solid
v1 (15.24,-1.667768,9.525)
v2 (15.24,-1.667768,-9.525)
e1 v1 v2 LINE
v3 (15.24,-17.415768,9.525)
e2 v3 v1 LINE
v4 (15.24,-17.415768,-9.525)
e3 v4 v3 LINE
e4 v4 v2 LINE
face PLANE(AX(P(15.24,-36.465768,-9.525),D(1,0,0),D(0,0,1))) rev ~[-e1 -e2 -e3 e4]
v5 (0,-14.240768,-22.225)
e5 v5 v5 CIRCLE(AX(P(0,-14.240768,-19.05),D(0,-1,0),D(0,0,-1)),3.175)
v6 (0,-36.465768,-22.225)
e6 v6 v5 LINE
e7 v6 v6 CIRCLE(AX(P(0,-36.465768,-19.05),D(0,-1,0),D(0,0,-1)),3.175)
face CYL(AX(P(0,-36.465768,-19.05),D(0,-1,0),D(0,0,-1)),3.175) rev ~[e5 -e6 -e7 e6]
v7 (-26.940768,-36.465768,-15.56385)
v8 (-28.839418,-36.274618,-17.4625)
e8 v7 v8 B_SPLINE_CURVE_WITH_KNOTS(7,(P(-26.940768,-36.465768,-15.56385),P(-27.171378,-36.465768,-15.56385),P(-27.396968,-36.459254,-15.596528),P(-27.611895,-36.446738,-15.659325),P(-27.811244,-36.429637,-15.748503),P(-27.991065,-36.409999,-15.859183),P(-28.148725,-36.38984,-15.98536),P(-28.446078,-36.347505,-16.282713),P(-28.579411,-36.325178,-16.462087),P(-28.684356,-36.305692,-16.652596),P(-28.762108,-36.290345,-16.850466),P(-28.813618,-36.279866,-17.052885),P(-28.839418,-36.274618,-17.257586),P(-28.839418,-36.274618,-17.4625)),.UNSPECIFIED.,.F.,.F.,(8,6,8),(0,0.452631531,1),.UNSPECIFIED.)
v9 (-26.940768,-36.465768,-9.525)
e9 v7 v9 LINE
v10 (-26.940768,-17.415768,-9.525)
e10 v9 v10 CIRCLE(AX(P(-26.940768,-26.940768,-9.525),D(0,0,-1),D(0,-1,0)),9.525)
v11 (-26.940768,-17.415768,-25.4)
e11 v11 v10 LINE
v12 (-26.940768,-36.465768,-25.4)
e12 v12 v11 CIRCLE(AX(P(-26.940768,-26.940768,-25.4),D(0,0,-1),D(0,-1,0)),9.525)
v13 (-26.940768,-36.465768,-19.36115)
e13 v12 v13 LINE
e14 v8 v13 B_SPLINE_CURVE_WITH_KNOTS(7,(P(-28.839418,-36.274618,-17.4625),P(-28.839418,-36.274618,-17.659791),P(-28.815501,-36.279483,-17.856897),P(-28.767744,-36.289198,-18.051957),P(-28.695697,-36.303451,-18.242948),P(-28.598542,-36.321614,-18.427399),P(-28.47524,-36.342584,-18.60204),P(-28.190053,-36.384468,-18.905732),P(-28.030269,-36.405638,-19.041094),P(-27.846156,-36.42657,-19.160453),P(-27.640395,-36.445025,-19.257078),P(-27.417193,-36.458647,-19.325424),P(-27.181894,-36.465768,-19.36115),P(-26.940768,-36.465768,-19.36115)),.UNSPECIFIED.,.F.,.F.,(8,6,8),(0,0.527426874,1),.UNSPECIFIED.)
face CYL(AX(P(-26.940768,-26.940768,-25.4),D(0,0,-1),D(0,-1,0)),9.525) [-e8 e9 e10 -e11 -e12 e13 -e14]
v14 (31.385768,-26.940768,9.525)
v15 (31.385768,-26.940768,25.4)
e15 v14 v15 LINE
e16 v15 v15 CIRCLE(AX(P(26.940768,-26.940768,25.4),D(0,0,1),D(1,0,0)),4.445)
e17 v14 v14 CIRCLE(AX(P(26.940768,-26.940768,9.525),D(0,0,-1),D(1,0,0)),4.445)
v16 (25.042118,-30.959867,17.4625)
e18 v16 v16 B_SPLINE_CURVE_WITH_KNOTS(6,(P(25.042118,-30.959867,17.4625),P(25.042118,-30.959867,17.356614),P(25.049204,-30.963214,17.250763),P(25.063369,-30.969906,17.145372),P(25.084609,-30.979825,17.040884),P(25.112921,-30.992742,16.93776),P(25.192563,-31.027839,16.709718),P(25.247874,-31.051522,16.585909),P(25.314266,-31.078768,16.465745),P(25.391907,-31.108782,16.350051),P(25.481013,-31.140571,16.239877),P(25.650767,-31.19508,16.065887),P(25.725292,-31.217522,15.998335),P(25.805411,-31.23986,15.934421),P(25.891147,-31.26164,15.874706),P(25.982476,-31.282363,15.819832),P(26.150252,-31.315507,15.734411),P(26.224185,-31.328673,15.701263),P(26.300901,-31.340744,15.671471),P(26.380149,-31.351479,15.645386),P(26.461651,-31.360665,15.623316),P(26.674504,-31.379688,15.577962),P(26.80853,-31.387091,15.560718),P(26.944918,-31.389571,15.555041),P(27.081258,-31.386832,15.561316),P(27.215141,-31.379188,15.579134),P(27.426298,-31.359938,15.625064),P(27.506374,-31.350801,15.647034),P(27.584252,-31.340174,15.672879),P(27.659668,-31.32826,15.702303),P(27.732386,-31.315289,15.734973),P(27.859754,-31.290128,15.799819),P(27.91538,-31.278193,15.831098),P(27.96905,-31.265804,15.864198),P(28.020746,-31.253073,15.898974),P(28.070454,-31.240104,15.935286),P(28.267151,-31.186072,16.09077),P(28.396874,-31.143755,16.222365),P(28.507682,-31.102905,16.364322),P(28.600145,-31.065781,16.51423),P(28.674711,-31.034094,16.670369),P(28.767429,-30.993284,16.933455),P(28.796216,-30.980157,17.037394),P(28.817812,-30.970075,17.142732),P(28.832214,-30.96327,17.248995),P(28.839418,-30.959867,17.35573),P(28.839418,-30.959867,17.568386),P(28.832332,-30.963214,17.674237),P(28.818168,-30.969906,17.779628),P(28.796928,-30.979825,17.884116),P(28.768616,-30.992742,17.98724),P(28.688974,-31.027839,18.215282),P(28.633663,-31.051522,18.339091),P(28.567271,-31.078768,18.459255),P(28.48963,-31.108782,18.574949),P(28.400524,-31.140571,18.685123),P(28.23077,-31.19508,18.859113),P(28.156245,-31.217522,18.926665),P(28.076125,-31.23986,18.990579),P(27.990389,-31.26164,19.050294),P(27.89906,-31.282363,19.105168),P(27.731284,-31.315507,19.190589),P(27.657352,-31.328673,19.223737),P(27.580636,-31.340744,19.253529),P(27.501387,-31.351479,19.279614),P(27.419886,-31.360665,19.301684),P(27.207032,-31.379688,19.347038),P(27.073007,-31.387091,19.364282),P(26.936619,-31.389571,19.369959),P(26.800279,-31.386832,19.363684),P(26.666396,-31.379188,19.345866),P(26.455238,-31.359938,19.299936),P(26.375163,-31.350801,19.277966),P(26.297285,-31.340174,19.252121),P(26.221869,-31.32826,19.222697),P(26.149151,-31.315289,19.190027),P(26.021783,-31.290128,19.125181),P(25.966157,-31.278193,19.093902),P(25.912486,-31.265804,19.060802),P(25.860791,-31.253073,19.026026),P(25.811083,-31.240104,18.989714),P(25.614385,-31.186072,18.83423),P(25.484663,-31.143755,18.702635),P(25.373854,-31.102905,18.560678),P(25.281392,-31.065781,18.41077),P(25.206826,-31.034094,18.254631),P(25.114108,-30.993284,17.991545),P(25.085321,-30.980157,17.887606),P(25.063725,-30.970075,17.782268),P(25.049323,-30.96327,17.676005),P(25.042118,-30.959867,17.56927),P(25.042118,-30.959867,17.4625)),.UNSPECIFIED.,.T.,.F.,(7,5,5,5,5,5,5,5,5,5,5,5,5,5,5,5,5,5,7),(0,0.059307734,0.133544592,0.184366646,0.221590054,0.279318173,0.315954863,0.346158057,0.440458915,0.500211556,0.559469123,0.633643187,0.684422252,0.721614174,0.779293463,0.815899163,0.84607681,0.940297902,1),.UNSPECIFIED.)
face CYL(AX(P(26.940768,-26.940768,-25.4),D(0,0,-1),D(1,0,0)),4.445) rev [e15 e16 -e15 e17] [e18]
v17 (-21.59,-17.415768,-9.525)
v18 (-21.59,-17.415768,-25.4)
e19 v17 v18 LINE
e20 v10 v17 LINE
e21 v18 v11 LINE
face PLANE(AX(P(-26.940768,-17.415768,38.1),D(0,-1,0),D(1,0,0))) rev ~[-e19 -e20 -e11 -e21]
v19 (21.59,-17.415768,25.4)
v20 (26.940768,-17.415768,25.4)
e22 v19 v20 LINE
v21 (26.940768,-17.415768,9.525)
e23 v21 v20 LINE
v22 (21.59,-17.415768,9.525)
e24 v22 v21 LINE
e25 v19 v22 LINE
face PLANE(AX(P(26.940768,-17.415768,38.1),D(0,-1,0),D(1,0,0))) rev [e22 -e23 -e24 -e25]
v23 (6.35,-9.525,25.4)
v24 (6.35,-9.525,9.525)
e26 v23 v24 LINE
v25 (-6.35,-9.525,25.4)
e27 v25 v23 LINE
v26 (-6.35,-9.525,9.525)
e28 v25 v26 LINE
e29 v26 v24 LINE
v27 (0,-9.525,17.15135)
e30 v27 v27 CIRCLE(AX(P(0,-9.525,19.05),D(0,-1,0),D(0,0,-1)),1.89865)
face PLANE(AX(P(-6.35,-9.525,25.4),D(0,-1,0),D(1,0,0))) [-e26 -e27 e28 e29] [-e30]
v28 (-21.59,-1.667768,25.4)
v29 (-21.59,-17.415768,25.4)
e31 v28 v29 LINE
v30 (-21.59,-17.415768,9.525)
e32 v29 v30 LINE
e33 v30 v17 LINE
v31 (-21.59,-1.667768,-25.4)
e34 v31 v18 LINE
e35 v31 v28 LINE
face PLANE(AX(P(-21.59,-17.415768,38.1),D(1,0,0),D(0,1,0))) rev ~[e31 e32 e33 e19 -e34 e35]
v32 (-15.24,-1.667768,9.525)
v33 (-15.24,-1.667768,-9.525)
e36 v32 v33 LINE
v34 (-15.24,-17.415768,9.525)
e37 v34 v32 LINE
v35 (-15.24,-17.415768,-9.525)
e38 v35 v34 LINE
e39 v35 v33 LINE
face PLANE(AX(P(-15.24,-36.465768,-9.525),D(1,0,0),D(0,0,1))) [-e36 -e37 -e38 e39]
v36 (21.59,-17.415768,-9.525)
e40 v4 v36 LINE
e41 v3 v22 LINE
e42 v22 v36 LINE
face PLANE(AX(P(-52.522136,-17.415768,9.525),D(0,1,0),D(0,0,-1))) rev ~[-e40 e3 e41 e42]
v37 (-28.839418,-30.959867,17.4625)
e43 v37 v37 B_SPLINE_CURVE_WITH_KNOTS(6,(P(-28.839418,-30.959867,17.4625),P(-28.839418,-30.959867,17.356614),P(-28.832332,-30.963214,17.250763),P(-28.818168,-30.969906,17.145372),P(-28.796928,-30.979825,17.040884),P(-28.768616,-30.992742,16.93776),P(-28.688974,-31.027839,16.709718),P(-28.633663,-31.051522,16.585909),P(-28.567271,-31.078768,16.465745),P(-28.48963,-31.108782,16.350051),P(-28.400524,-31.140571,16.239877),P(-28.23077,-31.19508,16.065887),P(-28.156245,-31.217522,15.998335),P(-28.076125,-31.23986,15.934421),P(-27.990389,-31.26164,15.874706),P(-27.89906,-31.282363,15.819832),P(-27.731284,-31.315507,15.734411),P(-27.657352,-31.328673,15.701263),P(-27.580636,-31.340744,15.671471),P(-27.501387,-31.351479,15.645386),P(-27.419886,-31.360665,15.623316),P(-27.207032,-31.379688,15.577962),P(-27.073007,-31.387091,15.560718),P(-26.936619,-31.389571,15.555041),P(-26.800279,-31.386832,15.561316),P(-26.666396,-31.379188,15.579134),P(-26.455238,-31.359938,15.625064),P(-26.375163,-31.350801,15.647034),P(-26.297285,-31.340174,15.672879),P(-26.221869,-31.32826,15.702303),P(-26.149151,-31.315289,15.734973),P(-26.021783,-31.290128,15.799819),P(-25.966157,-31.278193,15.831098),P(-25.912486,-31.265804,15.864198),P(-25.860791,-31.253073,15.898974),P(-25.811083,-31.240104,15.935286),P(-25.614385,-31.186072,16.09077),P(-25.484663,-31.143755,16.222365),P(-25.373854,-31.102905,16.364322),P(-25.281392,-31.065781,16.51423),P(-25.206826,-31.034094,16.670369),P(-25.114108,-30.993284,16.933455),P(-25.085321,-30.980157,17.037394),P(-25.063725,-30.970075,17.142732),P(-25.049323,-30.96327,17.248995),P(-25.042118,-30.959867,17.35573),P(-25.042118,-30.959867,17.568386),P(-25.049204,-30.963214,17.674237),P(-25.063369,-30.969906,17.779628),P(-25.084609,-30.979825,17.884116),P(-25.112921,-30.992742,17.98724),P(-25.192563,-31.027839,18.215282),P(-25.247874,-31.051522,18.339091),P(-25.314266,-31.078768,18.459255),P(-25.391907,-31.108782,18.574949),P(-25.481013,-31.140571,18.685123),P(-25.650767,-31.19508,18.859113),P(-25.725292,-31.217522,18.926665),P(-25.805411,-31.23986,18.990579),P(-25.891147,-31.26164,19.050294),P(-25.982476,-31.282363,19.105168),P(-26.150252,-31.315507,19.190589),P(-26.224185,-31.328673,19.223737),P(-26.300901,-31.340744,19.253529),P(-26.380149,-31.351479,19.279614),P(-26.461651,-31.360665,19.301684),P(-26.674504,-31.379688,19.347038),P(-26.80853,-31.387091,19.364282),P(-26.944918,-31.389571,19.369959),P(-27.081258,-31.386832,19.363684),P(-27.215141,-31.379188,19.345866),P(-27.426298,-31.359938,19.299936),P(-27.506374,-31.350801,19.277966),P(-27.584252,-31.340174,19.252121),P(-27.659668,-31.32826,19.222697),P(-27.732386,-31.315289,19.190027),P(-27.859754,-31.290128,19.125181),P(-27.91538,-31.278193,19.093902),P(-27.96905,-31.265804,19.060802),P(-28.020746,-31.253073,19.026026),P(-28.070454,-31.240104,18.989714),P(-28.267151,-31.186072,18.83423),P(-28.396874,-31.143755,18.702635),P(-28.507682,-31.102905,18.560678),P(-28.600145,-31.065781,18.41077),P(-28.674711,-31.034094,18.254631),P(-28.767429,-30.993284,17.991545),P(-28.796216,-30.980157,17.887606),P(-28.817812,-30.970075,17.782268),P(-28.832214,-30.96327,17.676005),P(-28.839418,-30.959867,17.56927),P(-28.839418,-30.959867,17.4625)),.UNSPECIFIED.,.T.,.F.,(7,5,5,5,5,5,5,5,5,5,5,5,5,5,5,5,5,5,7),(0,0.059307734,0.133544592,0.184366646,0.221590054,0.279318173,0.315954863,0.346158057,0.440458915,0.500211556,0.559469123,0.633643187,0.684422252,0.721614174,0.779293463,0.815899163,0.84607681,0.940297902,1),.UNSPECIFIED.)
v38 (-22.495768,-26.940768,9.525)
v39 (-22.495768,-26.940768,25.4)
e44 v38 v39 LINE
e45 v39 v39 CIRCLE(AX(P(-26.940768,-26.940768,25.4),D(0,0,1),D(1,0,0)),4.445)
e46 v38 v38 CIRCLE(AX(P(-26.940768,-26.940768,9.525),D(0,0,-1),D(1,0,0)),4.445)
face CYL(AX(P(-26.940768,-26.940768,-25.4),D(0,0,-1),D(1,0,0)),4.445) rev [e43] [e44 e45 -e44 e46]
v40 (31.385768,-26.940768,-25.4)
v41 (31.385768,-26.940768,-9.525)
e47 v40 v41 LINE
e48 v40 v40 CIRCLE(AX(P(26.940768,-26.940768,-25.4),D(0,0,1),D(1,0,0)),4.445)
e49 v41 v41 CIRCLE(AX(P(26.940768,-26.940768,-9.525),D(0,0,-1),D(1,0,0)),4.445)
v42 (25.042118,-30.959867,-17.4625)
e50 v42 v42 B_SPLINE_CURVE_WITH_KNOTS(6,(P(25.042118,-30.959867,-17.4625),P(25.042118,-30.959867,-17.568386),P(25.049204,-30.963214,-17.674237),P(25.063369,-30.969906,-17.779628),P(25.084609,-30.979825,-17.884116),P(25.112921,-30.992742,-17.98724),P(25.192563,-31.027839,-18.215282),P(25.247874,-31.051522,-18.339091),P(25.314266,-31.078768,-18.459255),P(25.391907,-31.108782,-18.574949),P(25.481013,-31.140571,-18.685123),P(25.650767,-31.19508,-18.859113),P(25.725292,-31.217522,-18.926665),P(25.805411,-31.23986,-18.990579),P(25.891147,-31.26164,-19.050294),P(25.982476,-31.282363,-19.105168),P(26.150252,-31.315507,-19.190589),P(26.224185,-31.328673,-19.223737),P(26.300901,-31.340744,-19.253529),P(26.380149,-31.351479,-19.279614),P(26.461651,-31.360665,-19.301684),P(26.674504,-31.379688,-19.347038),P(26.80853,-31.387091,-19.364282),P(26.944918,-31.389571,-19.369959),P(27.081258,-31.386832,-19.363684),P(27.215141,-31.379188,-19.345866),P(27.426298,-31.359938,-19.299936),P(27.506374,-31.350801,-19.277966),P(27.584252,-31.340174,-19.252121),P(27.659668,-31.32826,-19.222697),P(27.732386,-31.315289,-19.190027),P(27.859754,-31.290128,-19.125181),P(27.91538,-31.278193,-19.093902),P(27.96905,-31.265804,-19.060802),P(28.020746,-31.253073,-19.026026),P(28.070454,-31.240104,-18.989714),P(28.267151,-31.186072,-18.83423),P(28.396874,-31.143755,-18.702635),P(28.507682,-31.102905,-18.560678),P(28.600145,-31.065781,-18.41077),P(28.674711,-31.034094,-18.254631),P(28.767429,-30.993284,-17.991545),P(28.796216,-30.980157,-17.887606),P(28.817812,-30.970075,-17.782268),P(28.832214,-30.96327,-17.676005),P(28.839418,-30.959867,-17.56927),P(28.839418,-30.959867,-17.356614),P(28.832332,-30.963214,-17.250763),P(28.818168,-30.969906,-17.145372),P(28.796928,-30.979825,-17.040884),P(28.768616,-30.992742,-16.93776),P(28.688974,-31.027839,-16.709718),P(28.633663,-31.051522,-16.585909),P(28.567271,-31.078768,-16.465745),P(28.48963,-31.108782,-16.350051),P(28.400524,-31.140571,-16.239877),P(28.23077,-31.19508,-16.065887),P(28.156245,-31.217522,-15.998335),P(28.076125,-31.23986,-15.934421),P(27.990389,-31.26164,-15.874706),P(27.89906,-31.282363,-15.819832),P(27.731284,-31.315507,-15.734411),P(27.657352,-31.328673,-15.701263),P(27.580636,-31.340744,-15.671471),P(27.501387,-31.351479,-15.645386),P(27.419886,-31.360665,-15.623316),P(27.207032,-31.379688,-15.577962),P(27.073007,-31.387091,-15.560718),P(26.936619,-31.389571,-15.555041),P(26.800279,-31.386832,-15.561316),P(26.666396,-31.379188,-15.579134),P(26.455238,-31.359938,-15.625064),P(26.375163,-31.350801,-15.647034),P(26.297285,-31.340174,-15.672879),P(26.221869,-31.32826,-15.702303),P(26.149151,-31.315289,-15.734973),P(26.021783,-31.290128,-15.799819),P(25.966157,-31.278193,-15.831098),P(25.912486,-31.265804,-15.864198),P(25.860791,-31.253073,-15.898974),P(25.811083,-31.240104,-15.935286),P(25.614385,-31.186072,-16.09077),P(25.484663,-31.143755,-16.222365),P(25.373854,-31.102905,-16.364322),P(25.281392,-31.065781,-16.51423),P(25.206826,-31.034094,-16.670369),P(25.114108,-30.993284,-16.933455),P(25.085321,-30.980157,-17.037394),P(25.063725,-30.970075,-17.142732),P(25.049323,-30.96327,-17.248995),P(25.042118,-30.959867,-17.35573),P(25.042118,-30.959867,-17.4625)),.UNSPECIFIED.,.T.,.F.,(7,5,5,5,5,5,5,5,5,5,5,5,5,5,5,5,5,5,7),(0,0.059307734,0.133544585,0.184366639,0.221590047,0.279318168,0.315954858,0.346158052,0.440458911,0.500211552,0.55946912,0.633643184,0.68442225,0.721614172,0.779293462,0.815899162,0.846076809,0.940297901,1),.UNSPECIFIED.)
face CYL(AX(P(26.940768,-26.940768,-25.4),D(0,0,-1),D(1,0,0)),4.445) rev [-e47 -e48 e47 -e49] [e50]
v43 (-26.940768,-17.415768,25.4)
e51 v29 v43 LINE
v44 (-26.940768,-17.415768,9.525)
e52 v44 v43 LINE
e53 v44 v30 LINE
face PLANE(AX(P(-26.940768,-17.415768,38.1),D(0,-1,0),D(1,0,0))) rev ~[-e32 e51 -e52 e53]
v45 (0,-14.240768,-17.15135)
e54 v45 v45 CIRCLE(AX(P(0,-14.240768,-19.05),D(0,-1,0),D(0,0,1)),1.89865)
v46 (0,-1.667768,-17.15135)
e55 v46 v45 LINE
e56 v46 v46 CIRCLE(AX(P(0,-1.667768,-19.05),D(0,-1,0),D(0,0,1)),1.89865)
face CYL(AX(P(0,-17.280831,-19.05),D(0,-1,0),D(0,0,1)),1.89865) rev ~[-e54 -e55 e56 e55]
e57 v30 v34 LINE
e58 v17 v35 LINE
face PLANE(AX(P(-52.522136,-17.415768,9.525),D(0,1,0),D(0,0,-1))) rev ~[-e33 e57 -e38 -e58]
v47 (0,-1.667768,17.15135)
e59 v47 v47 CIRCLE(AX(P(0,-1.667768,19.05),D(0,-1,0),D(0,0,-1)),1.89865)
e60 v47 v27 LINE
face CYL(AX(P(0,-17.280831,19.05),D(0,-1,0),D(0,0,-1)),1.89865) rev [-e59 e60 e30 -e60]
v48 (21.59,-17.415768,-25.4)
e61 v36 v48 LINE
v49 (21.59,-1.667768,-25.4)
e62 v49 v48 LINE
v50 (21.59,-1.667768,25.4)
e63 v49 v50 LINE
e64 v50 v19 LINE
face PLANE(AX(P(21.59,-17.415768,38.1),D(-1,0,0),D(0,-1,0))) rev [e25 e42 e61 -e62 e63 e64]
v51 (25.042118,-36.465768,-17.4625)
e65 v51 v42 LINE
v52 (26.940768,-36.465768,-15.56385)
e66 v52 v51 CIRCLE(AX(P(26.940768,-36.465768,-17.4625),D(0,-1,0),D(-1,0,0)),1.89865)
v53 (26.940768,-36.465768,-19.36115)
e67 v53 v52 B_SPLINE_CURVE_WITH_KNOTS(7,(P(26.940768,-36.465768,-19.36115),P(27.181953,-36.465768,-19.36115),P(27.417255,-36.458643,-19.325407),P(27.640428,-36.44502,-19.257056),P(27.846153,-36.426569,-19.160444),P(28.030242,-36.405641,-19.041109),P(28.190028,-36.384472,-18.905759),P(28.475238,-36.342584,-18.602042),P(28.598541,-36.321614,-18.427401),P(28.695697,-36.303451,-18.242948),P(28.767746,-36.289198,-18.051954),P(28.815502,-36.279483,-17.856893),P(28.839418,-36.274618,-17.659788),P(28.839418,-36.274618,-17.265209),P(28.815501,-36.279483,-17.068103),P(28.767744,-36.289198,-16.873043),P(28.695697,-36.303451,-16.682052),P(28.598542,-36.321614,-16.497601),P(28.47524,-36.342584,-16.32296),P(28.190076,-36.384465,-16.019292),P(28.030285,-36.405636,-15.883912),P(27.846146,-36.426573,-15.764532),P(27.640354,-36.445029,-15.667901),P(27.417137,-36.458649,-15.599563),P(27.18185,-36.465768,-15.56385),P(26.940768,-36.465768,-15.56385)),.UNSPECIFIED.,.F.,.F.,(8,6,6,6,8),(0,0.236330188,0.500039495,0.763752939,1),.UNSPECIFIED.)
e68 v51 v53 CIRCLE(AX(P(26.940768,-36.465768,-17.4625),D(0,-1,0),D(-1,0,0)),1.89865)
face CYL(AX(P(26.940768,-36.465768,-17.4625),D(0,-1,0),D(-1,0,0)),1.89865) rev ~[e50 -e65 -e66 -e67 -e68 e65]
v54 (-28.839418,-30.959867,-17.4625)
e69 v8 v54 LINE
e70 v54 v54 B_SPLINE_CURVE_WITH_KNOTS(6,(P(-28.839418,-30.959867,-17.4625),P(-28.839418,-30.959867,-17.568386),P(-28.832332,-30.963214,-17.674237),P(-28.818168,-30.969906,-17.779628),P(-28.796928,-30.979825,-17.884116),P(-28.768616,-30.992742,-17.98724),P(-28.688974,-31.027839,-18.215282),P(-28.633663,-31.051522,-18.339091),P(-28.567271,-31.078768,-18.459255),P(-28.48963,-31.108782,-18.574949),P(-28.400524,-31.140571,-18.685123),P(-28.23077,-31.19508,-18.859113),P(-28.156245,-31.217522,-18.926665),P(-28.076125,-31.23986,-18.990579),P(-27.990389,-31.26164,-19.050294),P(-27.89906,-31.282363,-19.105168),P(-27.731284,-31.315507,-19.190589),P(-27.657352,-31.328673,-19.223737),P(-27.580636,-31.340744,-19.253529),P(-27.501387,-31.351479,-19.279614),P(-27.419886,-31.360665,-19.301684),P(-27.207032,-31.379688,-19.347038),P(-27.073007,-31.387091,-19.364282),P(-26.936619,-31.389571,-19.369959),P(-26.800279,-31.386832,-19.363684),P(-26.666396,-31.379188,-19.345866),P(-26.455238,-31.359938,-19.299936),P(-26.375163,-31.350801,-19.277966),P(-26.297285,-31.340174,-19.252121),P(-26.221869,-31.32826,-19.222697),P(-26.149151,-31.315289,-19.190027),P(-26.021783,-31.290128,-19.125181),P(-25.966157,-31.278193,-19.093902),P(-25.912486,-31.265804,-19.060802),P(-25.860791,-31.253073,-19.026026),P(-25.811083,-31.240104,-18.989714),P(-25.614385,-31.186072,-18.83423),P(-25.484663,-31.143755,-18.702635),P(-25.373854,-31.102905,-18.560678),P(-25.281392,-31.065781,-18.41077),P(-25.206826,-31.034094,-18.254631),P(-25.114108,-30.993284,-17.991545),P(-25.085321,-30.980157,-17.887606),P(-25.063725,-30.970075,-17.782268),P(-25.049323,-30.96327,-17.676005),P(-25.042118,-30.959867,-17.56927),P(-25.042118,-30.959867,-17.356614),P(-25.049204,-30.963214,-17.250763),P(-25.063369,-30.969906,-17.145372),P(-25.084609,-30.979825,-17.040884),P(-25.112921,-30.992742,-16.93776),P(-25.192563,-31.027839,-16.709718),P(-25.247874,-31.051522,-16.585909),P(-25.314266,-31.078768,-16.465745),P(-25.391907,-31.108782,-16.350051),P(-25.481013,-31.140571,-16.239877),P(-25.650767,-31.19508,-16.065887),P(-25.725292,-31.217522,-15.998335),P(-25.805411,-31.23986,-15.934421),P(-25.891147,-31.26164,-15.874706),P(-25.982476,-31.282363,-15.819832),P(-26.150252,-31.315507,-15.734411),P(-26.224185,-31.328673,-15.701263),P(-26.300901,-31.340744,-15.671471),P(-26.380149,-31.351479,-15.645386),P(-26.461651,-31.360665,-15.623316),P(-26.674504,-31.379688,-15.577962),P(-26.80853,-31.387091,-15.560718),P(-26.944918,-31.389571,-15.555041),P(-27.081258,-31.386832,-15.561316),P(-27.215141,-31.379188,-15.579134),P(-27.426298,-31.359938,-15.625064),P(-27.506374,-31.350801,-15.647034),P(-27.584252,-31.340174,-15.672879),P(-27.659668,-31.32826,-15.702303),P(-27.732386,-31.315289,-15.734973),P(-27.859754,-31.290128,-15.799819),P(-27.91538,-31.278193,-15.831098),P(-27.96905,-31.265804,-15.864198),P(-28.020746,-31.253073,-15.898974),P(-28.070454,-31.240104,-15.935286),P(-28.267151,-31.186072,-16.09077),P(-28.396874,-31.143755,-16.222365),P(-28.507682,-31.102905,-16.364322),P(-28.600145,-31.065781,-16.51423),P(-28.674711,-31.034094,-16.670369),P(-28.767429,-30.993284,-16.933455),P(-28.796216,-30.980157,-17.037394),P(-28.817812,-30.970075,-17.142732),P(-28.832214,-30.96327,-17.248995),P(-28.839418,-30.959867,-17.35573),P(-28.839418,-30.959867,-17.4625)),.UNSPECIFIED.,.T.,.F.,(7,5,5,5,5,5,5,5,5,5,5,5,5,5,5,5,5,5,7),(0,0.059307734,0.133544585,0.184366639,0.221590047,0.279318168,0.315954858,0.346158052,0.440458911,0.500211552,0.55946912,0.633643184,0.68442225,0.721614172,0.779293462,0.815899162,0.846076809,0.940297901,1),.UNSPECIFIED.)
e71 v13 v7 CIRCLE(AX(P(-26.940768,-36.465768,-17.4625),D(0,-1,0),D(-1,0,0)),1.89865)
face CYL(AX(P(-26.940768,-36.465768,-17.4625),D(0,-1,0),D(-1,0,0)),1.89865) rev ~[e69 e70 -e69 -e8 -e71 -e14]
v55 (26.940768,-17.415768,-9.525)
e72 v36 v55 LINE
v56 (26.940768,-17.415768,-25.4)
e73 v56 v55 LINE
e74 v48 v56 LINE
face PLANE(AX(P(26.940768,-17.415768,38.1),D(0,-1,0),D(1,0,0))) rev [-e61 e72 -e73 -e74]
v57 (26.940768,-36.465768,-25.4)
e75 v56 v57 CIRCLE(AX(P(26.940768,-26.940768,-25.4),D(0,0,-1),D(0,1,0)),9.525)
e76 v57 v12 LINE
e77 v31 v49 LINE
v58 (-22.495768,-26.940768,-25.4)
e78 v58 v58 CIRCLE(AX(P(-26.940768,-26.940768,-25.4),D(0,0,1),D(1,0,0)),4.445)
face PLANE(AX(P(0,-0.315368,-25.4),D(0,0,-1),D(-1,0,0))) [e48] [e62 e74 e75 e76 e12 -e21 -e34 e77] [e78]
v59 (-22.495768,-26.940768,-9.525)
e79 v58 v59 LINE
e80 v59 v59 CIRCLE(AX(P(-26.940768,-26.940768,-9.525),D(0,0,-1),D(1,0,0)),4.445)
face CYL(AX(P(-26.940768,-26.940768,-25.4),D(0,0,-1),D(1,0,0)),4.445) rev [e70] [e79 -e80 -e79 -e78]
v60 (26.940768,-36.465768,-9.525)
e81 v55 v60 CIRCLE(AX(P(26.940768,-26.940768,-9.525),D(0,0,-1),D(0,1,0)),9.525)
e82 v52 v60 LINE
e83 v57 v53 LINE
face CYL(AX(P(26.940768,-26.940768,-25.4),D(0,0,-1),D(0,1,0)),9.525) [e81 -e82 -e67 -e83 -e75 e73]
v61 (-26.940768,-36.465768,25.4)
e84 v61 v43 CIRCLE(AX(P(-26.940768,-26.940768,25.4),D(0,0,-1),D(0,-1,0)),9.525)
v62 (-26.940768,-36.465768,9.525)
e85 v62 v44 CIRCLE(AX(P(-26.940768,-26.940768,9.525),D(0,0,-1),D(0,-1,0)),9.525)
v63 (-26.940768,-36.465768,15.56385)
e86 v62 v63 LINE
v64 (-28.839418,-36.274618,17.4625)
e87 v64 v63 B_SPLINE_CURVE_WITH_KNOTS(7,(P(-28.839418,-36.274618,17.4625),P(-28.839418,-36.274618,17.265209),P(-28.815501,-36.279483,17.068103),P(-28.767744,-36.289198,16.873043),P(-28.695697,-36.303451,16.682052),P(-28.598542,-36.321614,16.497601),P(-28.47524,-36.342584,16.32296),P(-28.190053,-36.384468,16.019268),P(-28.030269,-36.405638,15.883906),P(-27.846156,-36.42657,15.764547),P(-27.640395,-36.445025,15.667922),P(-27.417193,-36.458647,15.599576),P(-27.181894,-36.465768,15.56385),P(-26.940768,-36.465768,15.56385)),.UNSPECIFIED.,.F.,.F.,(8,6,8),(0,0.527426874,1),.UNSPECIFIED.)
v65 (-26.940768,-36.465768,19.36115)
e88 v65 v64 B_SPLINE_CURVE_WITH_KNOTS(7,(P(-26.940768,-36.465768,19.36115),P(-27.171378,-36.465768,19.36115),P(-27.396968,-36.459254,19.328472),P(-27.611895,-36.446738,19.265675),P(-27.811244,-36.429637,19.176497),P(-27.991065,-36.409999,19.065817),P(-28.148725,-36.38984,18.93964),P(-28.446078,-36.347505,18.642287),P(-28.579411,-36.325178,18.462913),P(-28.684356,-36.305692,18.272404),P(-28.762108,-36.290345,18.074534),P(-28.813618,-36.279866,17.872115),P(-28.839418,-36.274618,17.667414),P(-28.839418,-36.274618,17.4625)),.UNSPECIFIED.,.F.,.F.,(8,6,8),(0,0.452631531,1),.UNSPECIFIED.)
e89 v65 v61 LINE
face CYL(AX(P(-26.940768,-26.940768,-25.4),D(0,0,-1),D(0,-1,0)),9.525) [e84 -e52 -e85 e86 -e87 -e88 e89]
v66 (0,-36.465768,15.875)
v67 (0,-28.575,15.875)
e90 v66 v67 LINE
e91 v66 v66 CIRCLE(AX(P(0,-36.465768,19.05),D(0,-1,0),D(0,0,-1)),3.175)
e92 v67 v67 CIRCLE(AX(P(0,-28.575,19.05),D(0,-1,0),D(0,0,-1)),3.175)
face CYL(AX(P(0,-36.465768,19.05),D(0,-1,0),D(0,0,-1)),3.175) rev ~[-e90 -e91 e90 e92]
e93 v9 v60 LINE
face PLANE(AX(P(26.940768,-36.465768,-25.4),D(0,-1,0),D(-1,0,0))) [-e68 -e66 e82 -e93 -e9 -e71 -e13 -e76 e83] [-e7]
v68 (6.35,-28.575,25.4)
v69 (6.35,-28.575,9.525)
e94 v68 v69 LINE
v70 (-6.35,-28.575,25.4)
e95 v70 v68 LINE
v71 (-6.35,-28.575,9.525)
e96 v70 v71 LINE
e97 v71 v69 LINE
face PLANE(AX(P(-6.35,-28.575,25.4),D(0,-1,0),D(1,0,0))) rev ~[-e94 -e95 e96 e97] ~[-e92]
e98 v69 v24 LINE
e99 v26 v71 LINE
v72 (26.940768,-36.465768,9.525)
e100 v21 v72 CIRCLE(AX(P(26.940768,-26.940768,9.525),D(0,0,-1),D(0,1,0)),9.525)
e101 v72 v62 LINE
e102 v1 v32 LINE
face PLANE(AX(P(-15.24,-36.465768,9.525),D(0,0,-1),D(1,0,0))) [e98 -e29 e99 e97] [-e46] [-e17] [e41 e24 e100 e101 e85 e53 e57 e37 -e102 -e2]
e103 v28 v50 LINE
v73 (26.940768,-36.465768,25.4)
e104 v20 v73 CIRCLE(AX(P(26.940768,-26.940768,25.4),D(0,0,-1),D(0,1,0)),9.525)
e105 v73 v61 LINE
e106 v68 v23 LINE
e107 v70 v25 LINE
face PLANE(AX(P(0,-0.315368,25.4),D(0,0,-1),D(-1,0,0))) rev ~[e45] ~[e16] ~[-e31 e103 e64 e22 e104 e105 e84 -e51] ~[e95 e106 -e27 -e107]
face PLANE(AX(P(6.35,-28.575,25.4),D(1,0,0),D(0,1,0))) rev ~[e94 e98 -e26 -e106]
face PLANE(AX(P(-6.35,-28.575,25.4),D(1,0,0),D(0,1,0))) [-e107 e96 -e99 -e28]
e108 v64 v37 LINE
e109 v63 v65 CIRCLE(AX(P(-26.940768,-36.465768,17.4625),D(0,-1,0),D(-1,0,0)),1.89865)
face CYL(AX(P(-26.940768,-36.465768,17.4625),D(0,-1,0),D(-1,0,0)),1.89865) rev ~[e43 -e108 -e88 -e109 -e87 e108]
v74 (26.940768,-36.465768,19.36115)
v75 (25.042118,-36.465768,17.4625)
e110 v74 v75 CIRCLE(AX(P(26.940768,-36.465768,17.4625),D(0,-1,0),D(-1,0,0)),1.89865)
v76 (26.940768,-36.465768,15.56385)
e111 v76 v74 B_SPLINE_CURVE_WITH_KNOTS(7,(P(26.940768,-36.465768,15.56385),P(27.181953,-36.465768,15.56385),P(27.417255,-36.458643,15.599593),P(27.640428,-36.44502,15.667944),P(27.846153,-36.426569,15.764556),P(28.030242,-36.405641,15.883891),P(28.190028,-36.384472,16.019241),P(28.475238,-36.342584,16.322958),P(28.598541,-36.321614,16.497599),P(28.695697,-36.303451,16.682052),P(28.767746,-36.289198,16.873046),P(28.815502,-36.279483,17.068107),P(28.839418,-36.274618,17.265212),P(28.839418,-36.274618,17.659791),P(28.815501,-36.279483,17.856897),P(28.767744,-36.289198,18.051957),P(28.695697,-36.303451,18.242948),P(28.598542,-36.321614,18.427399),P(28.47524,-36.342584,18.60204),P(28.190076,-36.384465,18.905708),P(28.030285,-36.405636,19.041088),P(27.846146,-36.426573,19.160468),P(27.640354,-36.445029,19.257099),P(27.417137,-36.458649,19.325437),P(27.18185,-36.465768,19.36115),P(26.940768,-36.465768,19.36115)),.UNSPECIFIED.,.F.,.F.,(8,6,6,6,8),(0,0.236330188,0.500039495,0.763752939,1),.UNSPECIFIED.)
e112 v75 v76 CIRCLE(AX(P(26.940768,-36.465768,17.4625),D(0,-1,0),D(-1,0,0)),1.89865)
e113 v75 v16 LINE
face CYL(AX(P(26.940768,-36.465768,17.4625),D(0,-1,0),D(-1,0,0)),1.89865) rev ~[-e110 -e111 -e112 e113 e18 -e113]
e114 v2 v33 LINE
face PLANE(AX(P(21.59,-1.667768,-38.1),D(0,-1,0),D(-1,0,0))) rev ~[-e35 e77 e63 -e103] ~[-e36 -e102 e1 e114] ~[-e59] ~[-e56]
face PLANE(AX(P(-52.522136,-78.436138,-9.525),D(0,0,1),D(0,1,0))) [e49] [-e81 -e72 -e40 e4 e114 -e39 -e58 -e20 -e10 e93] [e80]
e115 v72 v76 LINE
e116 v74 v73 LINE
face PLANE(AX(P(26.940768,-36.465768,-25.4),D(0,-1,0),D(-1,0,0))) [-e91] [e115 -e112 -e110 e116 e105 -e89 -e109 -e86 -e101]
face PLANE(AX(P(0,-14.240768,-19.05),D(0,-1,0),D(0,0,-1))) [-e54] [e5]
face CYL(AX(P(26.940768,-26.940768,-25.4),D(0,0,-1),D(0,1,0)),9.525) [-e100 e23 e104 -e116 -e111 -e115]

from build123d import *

# Parameters (mm, degrees)
BOSS_EXTRUDE1_DEPTH               = 25.4
BOSS_EXTRUDE1_DEPTH_BACK          = 25.4
SKETCH1_R                         = 4.445
SKETCH9_W                         = 30.48
SKETCH9_H                         = 35.052
CUT_EXTRUDE6_DEPTH                = 75.08914513
BOSS_EXTRUDE3_DEPTH               = 12.7
SKETCH11_W                        = 5.350768363
SKETCH11_H                        = 57.15
CUT_EXTRUDE7_DEPTH                = 94.35417198
SKETCH12_W                        = 30.48
SKETCH12_H                        = 19.05
CUT_EXTRUDE8_DEPTH                = 93.670395825
SKETCH14_R                        = 1.6
CUT_EXTRUDE9_DEPTH                = 81.005571081
SKETCH15_R                        = 3.429
CUT_EXTRUDE10_DEPTH               = 81.005571081
CUT_EXTRUDE11_DEPTH               = 2.778125
SKETCH22_W                        = 1.89865
SKETCH22_H                        = 38.369875
SKETCH23_R                        = 3.175
CUT_EXTRUDE12_DEPTH               = 22.225
SKETCH24_W                        = 43.18
SKETCH24_H                        = 41.402
CUT_EXTRUDE13_DEPTH               = 94.35417198
CUT_EXTRUDE14_REACH               = 74.389
SKETCH25_W                        = 12.7
SKETCH25_H                        = 19.05
CUT_EXTRUDE15_DEPTH               = 74.112136493
CUT_EXTRUDE15_DEPTH_BACK          = 74.112136493
SKETCH26_W                        = 19.05
SKETCH26_H                        = 61.020370042
F_25_0_1495_DIAMETER_HOLE1_REACH  = 58.443
F_25_0_1495_DIAMETER_HOLE1_BORE_R = 1.89865


with BuildPart() as part:
    # Sketch1 → Boss-Extrude1 (new, two sides: drawn at the far end of the back side and taken through both)
    with BuildSketch(Plane.XY.offset(-BOSS_EXTRUDE1_DEPTH_BACK)):
        with BuildLine():
            Line((-26.940768363, -17.415768363), (-26.940768363, 39.734231637))
            Line((-26.940768363, 39.734231637), (26.940768363, 39.734231637))
            Line((26.940768363, 39.734231637), (26.940768363, -17.415768363))
            ThreePointArc((26.940768363, -17.415768363), (36.465768363, -26.940768363), (26.940768363, -36.465768363))
            Line((26.940768363, -36.465768363), (-26.940768363, -36.465768363))
            ThreePointArc((-26.940768363, -36.465768363), (-36.465768363, -26.940768363), (-26.940768363, -17.415768363))
        make_face()
        with Locations((-26.940768363, -26.940768363)):
            Circle(SKETCH1_R, mode=Mode.SUBTRACT)
        with Locations((26.940768363, -26.940768363)):
            Circle(SKETCH1_R, mode=Mode.SUBTRACT)
    extrude(amount=BOSS_EXTRUDE1_DEPTH + BOSS_EXTRUDE1_DEPTH_BACK)

    # Sketch9 → Cut-Extrude6 (cut, through all)
    with BuildSketch(Plane.XY.offset(25.4)):
        with Locations((0, 22.208231637)):
            Rectangle(SKETCH9_W, SKETCH9_H)
    extrude(amount=-CUT_EXTRUDE6_DEPTH, mode=Mode.SUBTRACT)

    # Sketch10 → Boss-Extrude3 (add)
    with BuildSketch(Plane.XY.offset(25.4)):
        Polygon((-26.940768363, 39.734231637), (-26.940768363, -1.667768363), (26.940768363, -1.667768363), (26.940768363, 39.734231637), (15.24, 39.734231637), (15.24, 4.682231637), (-15.24, 4.682231637), (-15.24, 39.734231637), align=None)
    boss_extrude3 = extrude(amount=BOSS_EXTRUDE3_DEPTH)

    # Mirror4: Boss-Extrude3 across plane
    add(boss_extrude3.mirror(Plane.XY))

    # Sketch11 → Cut-Extrude7 (cut, through all)
    with BuildSketch(Plane.XY.offset(38.1)):
        with Locations((-24.265384181, 11.159231637)):
            Rectangle(SKETCH11_W, SKETCH11_H)
    cut_extrude7 = extrude(amount=-CUT_EXTRUDE7_DEPTH, mode=Mode.SUBTRACT)

    # Mirror5: Cut-Extrude7 across plane
    add(cut_extrude7.mirror(Plane(origin=(0, 0, 0), x_dir=(0, 0, 1), z_dir=(1, 0, 0))), mode=Mode.SUBTRACT)

    # Sketch12 → Cut-Extrude8 (cut, through all)
    with BuildSketch(Plane.XZ.offset(36.465768363)):
        Rectangle(SKETCH12_W, SKETCH12_H)
    extrude(amount=-CUT_EXTRUDE8_DEPTH, mode=Mode.SUBTRACT)

    # Sketch14 → Cut-Extrude9 (cut, through all)
    with BuildSketch(Plane.ZY.offset(21.59)):
        with Locations(Location((-18.4, 22.462231637, 0), (0, 0, 90))):
            Circle(SKETCH14_R)
    cut_extrude9 = extrude(amount=-CUT_EXTRUDE9_DEPTH, mode=Mode.SUBTRACT)

    # Mirror6: Cut-Extrude9 across plane
    add(cut_extrude9.mirror(Plane.XY), mode=Mode.SUBTRACT)

    # Sketch15 → Cut-Extrude10 (cut, through all)
    with BuildSketch(Plane(origin=(21.59, 0, 0), x_dir=(0, 0, -1), z_dir=(1, 0, 0))):
        with Locations(Location((0, 22.462231637, 0), (0, 0, 90))):
            Circle(SKETCH15_R)
    extrude(amount=-CUT_EXTRUDE10_DEPTH, mode=Mode.SUBTRACT)

    # Sketch18 → Cut-Extrude11 (cut)
    with BuildSketch(Plane(origin=(0, 4.682231637, 0), x_dir=(1, 0, 0), z_dir=(0, 1, 0))):
        Polygon((-15.24, 2.346351494), (-19.304, 4.692702988), (-23.368, 2.346351494), (-23.368, -2.346351494), (-19.304, -4.692702988), (-15.24, -2.346351494), align=None)
    cut_extrude11 = extrude(amount=-CUT_EXTRUDE11_DEPTH, mode=Mode.SUBTRACT)

    # Mirror7: Cut-Extrude11 across plane
    add(cut_extrude11.mirror(Plane(origin=(0, 0, 0), x_dir=(0, 0, 1), z_dir=(1, 0, 0))), mode=Mode.SUBTRACT)

    # Sketch22 → #6 Clearance Hole1 (revolve, cut)
    with BuildSketch(Plane(origin=(0, 1.904106637, -19.05), x_dir=(0, 0, 1), z_dir=(1, 0, 0))):
        with Locations((0.949325, 19.1849375)):
            Rectangle(SKETCH22_W, SKETCH22_H)
    f_6_clearance_hole1 = revolve(axis=Axis((0, 8.254106637, -19.05), (0, -1, 0)), mode=Mode.SUBTRACT)

    # Mirror8: #6 Clearance Hole1 across plane
    add(f_6_clearance_hole1.mirror(Plane.XY), mode=Mode.SUBTRACT)

    # Sketch23 → Cut-Extrude12 (cut)
    with BuildSketch(Plane.XZ.offset(36.465768363)):
        with Locations(Location((0, -19.05, 0), (0, 0, 270))):
            Circle(SKETCH23_R)
        with Locations(Location((0, 19.05, 0), (0, 0, 270))):
            Circle(SKETCH23_R)
    extrude(amount=-CUT_EXTRUDE12_DEPTH, mode=Mode.SUBTRACT)

    # Sketch24 → Cut-Extrude13 (cut, through all)
    with BuildSketch(Plane(origin=(0, 0, -38.1), x_dir=(-1, 0, 0), z_dir=(0, 0, -1))):
        with Locations((0, 19.033231637)):
            Rectangle(SKETCH24_W, SKETCH24_H)
    extrude(amount=-CUT_EXTRUDE13_DEPTH, mode=Mode.SUBTRACT)

    # Sketch25 → Cut-Extrude14 (cut, up to next)
    with BuildSketch(Plane.XY.offset(25.4), mode=Mode.PRIVATE) as cut_extrude14_sk1:
        with Locations((0, -19.05)):
            Rectangle(SKETCH25_W, SKETCH25_H)
    cut_extrude14_tool1 = extrude(cut_extrude14_sk1.sketch, amount=-CUT_EXTRUDE14_REACH, mode=Mode.PRIVATE) & part.part
    add(cut_extrude14_tool1.solids().sort_by_distance((0, -19.05, 25.4))[0], mode=Mode.SUBTRACT)

    # Sketch26 → Cut-Extrude15 (cut, two sides: drawn at the far end of the back side and taken through both)
    with BuildSketch(Plane(origin=(21.59, 0, 0), x_dir=(0, 0, -1), z_dir=(1, 0, 0)).offset(-CUT_EXTRUDE15_DEPTH_BACK)):
        with Locations((0, -47.925953384)):
            Rectangle(SKETCH26_W, SKETCH26_H)
    extrude(amount=CUT_EXTRUDE15_DEPTH + CUT_EXTRUDE15_DEPTH_BACK, mode=Mode.SUBTRACT)

    # #25 (0.1495) Diameter Hole1 bore → #25 (0.1495) Diameter Hole1 (cut, up to next)
    with BuildSketch(Plane(origin=(0, -36.465768363, 0), x_dir=(-1, 0, 0), z_dir=(0, -1, 0)), mode=Mode.PRIVATE) as f_25_0_1495_diameter_hole1_sk1:
        with Locations((26.940768363, -17.4625)):
            Circle(F_25_0_1495_DIAMETER_HOLE1_BORE_R)
    f_25_0_1495_diameter_hole1_tool1 = extrude(f_25_0_1495_diameter_hole1_sk1.sketch, amount=-F_25_0_1495_DIAMETER_HOLE1_REACH, mode=Mode.PRIVATE) & part.part
    # #25 (0.1495) Diameter Hole1 bore → #25 (0.1495) Diameter Hole1 (cut, up to next)
    with BuildSketch(Plane(origin=(0, -36.465768363, 0), x_dir=(-1, 0, 0), z_dir=(0, -1, 0)), mode=Mode.PRIVATE) as f_25_0_1495_diameter_hole1_sk2:
        with Locations((26.940768363, 17.4625)):
            Circle(F_25_0_1495_DIAMETER_HOLE1_BORE_R)
    f_25_0_1495_diameter_hole1_tool2 = extrude(f_25_0_1495_diameter_hole1_sk2.sketch, amount=-F_25_0_1495_DIAMETER_HOLE1_REACH, mode=Mode.PRIVATE) & part.part
    # #25 (0.1495) Diameter Hole1 bore → #25 (0.1495) Diameter Hole1 (cut, up to next)
    with BuildSketch(Plane(origin=(0, -36.465768363, 0), x_dir=(-1, 0, 0), z_dir=(0, -1, 0)), mode=Mode.PRIVATE) as f_25_0_1495_diameter_hole1_sk3:
        with Locations((-26.940768363, 17.4625)):
            Circle(F_25_0_1495_DIAMETER_HOLE1_BORE_R)
    f_25_0_1495_diameter_hole1_tool3 = extrude(f_25_0_1495_diameter_hole1_sk3.sketch, amount=-F_25_0_1495_DIAMETER_HOLE1_REACH, mode=Mode.PRIVATE) & part.part
    # #25 (0.1495) Diameter Hole1 bore → #25 (0.1495) Diameter Hole1 (cut, up to next)
    with BuildSketch(Plane(origin=(0, -36.465768363, 0), x_dir=(-1, 0, 0), z_dir=(0, -1, 0)), mode=Mode.PRIVATE) as f_25_0_1495_diameter_hole1_sk4:
        with Locations((-26.940768363, -17.4625)):
            Circle(F_25_0_1495_DIAMETER_HOLE1_BORE_R)
    f_25_0_1495_diameter_hole1_tool4 = extrude(f_25_0_1495_diameter_hole1_sk4.sketch, amount=-F_25_0_1495_DIAMETER_HOLE1_REACH, mode=Mode.PRIVATE) & part.part
    add(f_25_0_1495_diameter_hole1_tool1.solids().sort_by_distance((-26.940768, -36.465768, 17.4625))[0], mode=Mode.SUBTRACT)
    add(f_25_0_1495_diameter_hole1_tool2.solids().sort_by_distance((-26.940768, -36.465768, -17.4625))[0], mode=Mode.SUBTRACT)
    add(f_25_0_1495_diameter_hole1_tool3.solids().sort_by_distance((26.940768, -36.465768, -17.4625))[0], mode=Mode.SUBTRACT)
    add(f_25_0_1495_diameter_hole1_tool4.solids().sort_by_distance((26.940768, -36.465768, 17.4625))[0], mode=Mode.SUBTRACT)


solid = part.part
